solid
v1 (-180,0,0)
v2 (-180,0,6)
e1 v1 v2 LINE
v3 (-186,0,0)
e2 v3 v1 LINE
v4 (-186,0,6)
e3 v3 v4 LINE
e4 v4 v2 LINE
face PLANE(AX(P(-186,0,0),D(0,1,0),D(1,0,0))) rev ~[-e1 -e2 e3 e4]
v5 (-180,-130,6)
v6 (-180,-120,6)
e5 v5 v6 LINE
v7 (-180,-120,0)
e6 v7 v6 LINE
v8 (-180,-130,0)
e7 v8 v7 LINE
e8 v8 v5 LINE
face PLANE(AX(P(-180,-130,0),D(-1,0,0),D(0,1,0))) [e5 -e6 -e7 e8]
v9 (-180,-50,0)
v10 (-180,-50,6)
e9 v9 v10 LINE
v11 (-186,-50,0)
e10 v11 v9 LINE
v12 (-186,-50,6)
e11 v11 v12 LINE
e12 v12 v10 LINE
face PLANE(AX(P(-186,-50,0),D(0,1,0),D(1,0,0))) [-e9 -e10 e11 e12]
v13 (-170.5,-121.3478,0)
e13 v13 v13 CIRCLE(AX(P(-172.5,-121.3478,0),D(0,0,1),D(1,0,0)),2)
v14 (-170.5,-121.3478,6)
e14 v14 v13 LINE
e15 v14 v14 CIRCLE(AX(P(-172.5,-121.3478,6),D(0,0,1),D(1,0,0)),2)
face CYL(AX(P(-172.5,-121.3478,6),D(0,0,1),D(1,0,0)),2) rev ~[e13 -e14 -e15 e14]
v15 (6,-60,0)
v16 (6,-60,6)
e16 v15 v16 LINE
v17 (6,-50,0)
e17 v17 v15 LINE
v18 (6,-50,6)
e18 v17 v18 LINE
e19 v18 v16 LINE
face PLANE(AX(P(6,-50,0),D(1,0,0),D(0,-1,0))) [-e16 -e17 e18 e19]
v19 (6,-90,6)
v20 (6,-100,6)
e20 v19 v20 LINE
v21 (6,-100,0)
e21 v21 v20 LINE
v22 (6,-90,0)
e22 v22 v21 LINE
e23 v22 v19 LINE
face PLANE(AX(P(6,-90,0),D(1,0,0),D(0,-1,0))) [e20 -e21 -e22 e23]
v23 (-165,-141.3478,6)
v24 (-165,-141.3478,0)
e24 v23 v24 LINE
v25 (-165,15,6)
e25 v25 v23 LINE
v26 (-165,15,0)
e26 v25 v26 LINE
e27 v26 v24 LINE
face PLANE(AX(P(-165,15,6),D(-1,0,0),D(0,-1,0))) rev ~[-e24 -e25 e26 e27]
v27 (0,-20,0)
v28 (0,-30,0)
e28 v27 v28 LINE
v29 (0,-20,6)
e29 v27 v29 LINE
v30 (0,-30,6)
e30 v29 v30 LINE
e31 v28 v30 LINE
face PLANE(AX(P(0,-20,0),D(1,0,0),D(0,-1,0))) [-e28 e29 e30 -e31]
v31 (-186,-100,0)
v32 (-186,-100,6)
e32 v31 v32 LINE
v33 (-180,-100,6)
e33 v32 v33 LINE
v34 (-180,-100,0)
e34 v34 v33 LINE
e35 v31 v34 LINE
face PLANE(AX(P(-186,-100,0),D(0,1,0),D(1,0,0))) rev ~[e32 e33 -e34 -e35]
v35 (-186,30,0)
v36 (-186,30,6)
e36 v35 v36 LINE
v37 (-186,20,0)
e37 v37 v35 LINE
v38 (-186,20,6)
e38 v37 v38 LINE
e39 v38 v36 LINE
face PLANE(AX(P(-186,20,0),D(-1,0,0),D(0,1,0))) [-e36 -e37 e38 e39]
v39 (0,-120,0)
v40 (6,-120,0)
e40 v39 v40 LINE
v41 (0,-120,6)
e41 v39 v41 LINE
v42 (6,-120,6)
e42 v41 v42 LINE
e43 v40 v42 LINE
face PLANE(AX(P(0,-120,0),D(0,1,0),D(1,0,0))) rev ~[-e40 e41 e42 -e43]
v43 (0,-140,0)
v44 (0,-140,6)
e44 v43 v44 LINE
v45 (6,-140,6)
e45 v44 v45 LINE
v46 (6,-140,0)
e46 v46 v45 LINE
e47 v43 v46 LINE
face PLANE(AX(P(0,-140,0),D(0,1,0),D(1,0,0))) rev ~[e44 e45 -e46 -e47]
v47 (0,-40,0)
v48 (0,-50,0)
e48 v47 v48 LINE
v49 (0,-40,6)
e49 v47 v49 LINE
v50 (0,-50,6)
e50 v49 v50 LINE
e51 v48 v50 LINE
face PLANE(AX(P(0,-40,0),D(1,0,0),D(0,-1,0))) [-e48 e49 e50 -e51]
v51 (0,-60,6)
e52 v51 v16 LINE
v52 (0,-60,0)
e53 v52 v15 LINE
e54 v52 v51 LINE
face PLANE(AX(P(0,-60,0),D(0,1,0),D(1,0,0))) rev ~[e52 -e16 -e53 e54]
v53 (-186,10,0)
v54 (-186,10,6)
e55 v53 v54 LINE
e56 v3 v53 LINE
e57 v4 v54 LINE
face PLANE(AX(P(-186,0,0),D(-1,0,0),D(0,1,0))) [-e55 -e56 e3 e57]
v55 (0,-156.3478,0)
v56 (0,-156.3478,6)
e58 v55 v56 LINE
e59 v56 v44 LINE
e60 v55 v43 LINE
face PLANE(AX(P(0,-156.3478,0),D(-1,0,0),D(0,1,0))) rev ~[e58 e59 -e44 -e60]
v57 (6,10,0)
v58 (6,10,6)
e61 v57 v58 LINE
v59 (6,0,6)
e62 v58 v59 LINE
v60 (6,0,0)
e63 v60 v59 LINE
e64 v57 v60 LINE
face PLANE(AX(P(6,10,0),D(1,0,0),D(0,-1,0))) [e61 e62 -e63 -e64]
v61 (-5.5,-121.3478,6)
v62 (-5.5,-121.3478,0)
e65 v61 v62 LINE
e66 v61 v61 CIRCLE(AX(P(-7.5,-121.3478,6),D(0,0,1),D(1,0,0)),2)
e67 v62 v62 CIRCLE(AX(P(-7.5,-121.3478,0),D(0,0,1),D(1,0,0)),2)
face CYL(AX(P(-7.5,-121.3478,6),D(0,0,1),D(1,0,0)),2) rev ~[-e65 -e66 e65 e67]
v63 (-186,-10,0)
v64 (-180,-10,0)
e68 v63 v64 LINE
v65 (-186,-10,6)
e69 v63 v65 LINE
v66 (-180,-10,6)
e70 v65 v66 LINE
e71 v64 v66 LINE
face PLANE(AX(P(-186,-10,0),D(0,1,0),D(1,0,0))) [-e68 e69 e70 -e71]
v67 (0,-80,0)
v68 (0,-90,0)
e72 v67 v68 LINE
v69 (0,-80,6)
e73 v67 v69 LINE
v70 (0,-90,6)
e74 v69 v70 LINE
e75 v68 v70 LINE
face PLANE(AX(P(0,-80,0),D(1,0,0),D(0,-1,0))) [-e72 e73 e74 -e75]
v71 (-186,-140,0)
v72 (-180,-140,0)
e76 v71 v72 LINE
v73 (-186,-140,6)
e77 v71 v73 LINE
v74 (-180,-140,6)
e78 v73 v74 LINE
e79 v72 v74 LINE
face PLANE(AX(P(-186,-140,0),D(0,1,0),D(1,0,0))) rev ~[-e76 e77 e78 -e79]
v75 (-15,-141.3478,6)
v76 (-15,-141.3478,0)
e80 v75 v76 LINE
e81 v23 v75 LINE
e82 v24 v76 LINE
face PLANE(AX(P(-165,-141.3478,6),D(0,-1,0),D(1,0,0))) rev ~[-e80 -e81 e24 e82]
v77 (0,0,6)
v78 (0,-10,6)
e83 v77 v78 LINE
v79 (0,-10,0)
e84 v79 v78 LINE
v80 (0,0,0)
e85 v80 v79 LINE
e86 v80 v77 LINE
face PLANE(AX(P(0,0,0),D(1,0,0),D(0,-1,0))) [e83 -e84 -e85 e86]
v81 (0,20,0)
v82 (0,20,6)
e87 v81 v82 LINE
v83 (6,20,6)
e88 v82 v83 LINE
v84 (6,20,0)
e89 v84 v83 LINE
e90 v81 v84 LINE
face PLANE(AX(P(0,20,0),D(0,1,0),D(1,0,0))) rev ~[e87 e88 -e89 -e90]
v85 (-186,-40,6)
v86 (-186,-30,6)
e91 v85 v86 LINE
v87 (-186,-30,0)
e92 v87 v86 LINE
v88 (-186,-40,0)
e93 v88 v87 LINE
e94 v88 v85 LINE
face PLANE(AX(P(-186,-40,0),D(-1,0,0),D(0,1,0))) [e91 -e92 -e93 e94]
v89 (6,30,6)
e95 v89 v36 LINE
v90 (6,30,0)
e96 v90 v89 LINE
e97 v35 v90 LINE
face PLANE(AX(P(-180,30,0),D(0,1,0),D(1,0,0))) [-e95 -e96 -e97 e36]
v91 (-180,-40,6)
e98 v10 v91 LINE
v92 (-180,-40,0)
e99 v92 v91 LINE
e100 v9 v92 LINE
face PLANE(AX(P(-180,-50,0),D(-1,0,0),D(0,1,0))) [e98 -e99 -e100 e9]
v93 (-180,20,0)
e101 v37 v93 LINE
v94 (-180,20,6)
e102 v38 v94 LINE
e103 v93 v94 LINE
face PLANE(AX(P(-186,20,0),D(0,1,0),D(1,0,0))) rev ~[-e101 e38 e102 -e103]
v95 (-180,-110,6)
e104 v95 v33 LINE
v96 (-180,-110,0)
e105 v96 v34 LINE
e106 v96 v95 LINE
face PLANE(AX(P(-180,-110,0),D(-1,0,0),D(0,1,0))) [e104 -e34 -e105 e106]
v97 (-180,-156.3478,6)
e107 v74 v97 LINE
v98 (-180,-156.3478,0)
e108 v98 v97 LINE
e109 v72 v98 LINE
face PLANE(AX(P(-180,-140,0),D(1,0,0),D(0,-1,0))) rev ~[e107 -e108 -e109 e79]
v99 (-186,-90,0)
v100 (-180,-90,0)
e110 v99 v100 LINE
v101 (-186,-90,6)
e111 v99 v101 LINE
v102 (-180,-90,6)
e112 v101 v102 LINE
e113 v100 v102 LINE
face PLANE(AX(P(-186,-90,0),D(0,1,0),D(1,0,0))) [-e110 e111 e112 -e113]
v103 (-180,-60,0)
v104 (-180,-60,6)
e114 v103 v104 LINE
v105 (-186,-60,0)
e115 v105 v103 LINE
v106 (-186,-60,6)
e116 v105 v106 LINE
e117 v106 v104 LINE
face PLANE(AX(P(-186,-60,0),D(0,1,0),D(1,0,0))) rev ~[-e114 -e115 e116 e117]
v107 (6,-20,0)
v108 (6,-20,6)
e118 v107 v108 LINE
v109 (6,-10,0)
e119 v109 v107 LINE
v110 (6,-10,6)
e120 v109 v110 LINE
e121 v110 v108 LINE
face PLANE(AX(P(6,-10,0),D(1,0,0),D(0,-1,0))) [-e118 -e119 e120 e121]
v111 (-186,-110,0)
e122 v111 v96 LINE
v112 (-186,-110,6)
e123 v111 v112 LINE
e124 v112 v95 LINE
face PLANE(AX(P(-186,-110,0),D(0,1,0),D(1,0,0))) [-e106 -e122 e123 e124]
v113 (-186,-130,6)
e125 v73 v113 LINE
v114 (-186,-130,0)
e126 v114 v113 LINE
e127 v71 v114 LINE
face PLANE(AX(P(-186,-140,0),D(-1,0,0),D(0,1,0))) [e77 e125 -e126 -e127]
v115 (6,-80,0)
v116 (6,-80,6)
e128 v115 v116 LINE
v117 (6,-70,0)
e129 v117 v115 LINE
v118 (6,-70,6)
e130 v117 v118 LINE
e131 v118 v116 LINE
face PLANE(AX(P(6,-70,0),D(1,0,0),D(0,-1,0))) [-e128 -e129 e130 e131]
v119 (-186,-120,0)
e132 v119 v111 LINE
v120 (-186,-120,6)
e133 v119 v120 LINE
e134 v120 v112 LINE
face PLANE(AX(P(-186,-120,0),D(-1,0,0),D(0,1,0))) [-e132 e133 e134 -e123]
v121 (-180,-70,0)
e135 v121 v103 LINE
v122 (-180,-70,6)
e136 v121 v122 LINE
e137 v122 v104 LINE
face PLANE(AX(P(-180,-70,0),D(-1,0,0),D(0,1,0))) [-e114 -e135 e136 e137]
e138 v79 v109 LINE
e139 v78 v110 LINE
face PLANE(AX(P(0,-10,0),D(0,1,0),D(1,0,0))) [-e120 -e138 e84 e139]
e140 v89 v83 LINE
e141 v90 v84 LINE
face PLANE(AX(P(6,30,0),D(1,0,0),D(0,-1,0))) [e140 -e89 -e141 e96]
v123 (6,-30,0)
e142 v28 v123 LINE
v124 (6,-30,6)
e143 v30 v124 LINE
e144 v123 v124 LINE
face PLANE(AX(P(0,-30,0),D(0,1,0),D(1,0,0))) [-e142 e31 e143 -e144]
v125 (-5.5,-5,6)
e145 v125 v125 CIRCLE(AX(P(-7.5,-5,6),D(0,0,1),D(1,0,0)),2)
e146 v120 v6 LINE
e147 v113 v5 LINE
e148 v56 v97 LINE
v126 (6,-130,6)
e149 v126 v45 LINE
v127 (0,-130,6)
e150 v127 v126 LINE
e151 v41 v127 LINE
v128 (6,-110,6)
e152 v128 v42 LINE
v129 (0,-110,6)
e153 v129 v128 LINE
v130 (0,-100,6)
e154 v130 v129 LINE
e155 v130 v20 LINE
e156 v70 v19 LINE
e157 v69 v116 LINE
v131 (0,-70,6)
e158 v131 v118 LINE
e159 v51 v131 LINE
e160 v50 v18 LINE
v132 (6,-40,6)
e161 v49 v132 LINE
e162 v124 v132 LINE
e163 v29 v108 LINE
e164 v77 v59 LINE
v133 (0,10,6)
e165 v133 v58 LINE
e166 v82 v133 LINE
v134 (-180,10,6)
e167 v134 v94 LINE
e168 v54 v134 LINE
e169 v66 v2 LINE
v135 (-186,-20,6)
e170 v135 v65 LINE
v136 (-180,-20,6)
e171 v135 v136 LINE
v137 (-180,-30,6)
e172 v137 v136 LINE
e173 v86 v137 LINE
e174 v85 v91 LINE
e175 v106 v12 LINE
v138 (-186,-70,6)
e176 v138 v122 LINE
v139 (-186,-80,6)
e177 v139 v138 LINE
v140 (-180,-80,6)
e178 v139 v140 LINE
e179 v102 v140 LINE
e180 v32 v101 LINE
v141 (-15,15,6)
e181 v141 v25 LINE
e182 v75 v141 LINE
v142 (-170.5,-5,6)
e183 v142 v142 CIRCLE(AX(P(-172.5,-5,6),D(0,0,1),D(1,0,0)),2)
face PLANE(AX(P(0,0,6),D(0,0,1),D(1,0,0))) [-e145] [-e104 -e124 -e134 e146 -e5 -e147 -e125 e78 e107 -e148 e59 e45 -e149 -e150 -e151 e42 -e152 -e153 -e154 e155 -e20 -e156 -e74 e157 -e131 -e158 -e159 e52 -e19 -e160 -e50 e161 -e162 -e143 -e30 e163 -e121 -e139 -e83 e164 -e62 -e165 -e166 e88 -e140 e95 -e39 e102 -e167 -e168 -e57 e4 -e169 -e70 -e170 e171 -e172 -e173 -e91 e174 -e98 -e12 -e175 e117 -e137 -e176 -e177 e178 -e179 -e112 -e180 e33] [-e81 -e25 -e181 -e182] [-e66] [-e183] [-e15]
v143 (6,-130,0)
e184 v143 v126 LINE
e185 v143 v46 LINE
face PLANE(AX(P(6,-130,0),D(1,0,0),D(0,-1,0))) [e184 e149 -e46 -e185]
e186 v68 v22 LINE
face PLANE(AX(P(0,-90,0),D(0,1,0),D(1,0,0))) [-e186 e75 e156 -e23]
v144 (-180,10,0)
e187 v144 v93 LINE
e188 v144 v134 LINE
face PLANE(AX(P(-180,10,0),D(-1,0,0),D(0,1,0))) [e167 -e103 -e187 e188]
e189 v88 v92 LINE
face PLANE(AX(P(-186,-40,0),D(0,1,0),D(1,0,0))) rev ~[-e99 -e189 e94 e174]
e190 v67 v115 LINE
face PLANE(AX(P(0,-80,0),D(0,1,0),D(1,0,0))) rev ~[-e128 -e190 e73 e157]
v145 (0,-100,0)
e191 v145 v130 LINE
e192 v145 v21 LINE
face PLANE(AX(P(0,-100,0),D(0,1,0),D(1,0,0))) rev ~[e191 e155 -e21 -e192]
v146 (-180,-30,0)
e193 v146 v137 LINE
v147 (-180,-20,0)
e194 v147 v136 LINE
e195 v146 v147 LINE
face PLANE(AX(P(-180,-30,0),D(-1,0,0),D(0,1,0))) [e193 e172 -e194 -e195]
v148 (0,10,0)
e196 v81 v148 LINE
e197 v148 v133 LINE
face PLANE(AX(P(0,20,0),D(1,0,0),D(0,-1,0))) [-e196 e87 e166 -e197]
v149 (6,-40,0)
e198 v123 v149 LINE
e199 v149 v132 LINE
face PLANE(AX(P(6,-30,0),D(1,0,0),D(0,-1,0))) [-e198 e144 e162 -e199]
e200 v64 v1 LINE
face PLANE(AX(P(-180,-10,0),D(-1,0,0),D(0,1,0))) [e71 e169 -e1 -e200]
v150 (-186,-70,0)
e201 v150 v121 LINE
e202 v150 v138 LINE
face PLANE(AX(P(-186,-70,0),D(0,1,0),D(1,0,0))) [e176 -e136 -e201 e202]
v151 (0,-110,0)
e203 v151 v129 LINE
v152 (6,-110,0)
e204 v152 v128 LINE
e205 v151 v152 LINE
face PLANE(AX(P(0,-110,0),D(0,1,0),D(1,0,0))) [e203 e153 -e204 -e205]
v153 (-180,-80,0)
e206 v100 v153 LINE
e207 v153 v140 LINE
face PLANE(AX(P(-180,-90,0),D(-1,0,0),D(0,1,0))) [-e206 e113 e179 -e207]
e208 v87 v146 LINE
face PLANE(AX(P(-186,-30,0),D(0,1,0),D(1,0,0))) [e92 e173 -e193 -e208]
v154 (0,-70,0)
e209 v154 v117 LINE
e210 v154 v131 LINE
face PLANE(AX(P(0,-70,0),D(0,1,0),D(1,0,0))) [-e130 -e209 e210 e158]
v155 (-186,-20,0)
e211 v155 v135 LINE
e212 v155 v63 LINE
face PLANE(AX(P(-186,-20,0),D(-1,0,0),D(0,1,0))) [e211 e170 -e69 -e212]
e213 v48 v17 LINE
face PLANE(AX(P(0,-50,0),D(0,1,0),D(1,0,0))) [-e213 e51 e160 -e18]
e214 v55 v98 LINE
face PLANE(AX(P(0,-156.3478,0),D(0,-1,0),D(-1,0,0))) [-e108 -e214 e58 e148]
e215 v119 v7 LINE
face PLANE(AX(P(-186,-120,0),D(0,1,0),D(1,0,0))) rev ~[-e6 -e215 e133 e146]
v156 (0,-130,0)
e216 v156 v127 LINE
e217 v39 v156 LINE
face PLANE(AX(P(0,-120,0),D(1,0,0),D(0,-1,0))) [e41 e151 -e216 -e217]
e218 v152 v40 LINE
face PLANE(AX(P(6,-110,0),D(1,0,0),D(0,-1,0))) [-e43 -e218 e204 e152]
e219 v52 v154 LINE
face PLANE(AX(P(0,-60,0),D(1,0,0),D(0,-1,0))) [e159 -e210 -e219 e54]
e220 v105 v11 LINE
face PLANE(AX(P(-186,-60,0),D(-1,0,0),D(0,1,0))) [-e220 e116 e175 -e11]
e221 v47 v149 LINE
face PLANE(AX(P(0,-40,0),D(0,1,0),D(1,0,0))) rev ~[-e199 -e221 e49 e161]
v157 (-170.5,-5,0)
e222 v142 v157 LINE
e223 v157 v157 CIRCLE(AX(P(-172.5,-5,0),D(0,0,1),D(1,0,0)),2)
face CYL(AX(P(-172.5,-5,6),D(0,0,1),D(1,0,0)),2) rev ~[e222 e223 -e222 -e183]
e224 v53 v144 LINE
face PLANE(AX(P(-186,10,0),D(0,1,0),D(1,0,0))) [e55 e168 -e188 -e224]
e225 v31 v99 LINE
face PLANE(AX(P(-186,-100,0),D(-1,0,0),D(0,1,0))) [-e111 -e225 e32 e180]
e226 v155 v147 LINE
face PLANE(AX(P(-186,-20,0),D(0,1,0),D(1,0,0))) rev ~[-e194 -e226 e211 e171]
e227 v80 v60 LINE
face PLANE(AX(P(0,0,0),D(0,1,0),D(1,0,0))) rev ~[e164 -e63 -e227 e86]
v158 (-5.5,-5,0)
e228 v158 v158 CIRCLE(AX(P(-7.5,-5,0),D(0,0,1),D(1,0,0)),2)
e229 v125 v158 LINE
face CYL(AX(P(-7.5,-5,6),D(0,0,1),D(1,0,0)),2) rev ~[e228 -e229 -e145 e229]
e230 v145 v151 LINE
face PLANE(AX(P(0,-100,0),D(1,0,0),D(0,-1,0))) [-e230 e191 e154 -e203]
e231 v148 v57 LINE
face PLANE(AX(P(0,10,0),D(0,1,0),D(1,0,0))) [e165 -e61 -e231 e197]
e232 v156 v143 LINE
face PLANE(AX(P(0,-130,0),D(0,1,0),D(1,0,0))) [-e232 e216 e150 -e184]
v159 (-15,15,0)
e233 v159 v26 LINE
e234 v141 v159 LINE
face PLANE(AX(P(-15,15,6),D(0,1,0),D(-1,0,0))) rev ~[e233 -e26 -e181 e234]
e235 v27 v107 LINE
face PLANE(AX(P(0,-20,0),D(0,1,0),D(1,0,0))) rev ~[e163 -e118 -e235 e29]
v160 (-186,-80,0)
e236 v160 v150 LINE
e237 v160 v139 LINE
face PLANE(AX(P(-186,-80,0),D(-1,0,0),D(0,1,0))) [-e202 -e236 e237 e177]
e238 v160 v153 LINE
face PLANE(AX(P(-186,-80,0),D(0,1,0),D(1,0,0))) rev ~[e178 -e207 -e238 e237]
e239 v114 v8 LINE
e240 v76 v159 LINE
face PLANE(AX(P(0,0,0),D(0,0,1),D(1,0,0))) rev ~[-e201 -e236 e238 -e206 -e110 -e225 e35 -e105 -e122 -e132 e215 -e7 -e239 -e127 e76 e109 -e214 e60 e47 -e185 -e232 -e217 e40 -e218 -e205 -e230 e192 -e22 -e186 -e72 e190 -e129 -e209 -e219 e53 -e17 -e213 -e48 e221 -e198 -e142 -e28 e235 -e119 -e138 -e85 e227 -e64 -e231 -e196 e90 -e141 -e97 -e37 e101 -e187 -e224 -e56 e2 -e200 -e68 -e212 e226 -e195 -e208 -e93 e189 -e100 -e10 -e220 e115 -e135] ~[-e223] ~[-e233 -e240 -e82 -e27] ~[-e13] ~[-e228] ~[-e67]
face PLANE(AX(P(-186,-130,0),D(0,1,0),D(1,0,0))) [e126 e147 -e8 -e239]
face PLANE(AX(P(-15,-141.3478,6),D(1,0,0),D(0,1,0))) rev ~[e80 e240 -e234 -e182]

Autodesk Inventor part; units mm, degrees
ref_plane "YZ Plane" through (0, 0, 0) normal (1, 0, 0) x (0, 1, 0)
ref_plane "XZ Plane" through (0, 0, 0) normal (0, 1, 0) x (-1, 0, 0)
ref_plane "XY Plane" through (0, 0, 0) normal (0, 0, 1) x (1, 0, 0)
sketch "Эскиз1" plane through (0, 0, 0) normal (0, 0, 1) x (1, 0, 0)
  line L0 (0, 20) -> (0, 30) projected
  line L1 (0, 20) -> (6, 20) projected
  line L2 (6, 30) -> (6, 20) projected
  line L3 (0, 30) -> (6, 30) projected
  line L4 (0, 0) -> (0, 10) projected
  line L5 (0, 0) -> (6, 0) projected
  line L6 (6, 10) -> (6, 0) projected
  line L7 (0, 10) -> (6, 10) projected
  line L8 (0, -20) -> (0, -10) projected
  line L9 (0, -20) -> (6, -20) projected
  line L10 (6, -10) -> (6, -20) projected
  line L11 (0, -10) -> (6, -10) projected
  line L12 (0, -40) -> (0, -30) projected
  line L13 (0, -40) -> (6, -40) projected
  line L14 (6, -30) -> (6, -40) projected
  line L15 (0, -30) -> (6, -30) projected
  line L16 (0, -60) -> (0, -50) projected
  line L17 (0, -60) -> (6, -60) projected
  line L18 (6, -50) -> (6, -60) projected
  line L19 (0, -50) -> (6, -50) projected
  line L20 (0, -80) -> (0, -70) projected
  line L21 (0, -80) -> (6, -80) projected
  line L22 (6, -70) -> (6, -80) projected
  line L23 (0, -70) -> (6, -70) projected
  line L24 (0, -100) -> (0, -90) projected
  line L25 (0, -100) -> (6, -100) projected
  line L26 (6, -90) -> (6, -100) projected
  line L27 (0, -90) -> (6, -90) projected
  line L28 (0, -120) -> (0, -110) projected
  line L29 (0, -120) -> (6, -120) projected
  line L30 (6, -110) -> (6, -120) projected
  line L31 (0, -110) -> (6, -110) projected
  line L32 (0, -140) -> (0, -130) projected
  line L33 (0, -140) -> (6, -140) projected
  line L34 (6, -130) -> (6, -140) projected
  line L35 (0, -130) -> (6, -130) projected
  line L36 (0, -156.3478) -> (0, -140) projected
  line L37 (-180, -140) -> (-180, -156.3478) projected
  line L38 (-186, -140) -> (-186, -130) projected
  line L39 (-186, -140) -> (-180, -140) projected
  line L40 (-180, -130) -> (-180, -140) projected
  line L41 (-186, -130) -> (-180, -130) projected
  line L42 (-186, -120) -> (-186, -110) projected
  line L43 (-186, -120) -> (-180, -120) projected
  line L44 (-180, -110) -> (-180, -120) projected
  line L45 (-186, -110) -> (-180, -110) projected
  line L46 (-186, -100) -> (-186, -90) projected
  line L47 (-186, -100) -> (-180, -100) projected
  line L48 (-180, -90) -> (-180, -100) projected
  line L49 (-186, -90) -> (-180, -90) projected
  line L50 (-186, -80) -> (-186, -70) projected
  line L51 (-186, -80) -> (-180, -80) projected
  line L52 (-180, -70) -> (-180, -80) projected
  line L53 (-186, -70) -> (-180, -70) projected
  line L54 (-186, -60) -> (-186, -50) projected
  line L55 (-186, -60) -> (-180, -60) projected
  line L56 (-180, -50) -> (-180, -60) projected
  line L57 (-186, -50) -> (-180, -50) projected
  line L58 (-186, -40) -> (-186, -30) projected
  line L59 (-186, -40) -> (-180, -40) projected
  line L60 (-180, -30) -> (-180, -40) projected
  line L61 (-186, -30) -> (-180, -30) projected
  line L62 (-186, 20) -> (-186, 30) projected
  line L63 (-186, 20) -> (-180, 20) projected
  line L64 (-180, 30) -> (-180, 20) projected
  line L65 (-186, 30) -> (-180, 30) projected
  line L66 (-186, 0) -> (-186, 10) projected
  line L67 (-186, 0) -> (-180, 0) projected
  line L68 (-180, 10) -> (-180, 0) projected
  line L69 (-186, 10) -> (-180, 10) projected
  line L70 (-186, -20) -> (-186, -10) projected
  line L71 (-186, -20) -> (-180, -20) projected
  line L72 (-180, -10) -> (-180, -20) projected
  line L73 (-186, -10) -> (-180, -10) projected
  line L74 (0, -156.3478) -> (-180, -156.3478)
  line L75 (-180, -156.3478) -> (-180, 30)
  line L76 (-180, 30) -> (0, 30)
  line L77 (0, 30) -> (0, -156.3478)
extrude "Выдавливание1" add sketch "Эскиз1" along normal blind 6
sketch "Эскиз2" plane through (0, 0, 6) normal (0, 0, 1) x (1, 0, 0)
  line L0 (-15, 15) -> (-165, 15)
  line L1 (-165, 15) -> (-165, -141.3478)
  line L2 (-165, -141.3478) -> (-15, -141.3478)
  line L3 (-15, -141.3478) -> (-15, 15)
  line L4 (-186, 10) -> (-186, 0) projected
  line L5 (-186, 0) -> (-180, 0) projected
  line L6 (-180, 0) -> (-180, -10) projected
  line L7 (-180, -10) -> (-186, -10) projected
  line L8 (-186, -10) -> (-186, -20) projected
  line L9 (-186, -20) -> (-180, -20) projected
  line L10 (-180, -20) -> (-180, -30) projected
  line L11 (-180, -30) -> (-186, -30) projected
  line L12 (-186, -30) -> (-186, -40) projected
  line L13 (-186, -40) -> (-180, -40) projected
  line L14 (-180, -40) -> (-180, -50) projected
  line L15 (-180, -50) -> (-186, -50) projected
  line L16 (-186, -50) -> (-186, -60) projected
  line L17 (-186, -60) -> (-180, -60) projected
  line L18 (-180, -60) -> (-180, -70) projected
  line L19 (-180, -70) -> (-186, -70) projected
  line L20 (-186, -70) -> (-186, -80) projected
  line L21 (-186, -80) -> (-180, -80) projected
  line L22 (-180, -80) -> (-180, -90) projected
  line L23 (-180, -90) -> (-186, -90) projected
  line L24 (-186, -90) -> (-186, -100) projected
  line L25 (-186, -100) -> (-180, -100) projected
  line L26 (-180, -100) -> (-180, -110) projected
  line L27 (-180, -110) -> (-186, -110) projected
  line L28 (-186, -110) -> (-186, -120) projected
  line L29 (-186, -120) -> (-180, -120) projected
  line L30 (-180, -120) -> (-180, -130) projected
  line L31 (-180, -130) -> (-186, -130) projected
  line L32 (-186, -130) -> (-186, -140) projected
  line L33 (-186, -140) -> (-180, -140) projected
  line L34 (-180, -140) -> (-180, -156.3478) projected
  line L35 (-180, -156.3478) -> (0, -156.3478) projected
  line L36 (0, -156.3478) -> (0, -140) projected
  line L37 (0, -140) -> (6, -140) projected
  line L38 (6, -140) -> (6, -130) projected
  line L39 (6, -130) -> (0, -130) projected
  line L40 (0, -130) -> (0, -120) projected
  line L41 (0, -120) -> (6, -120) projected
  line L42 (6, -120) -> (6, -110) projected
  line L43 (6, -110) -> (0, -110) projected
  line L44 (0, -110) -> (0, -100) projected
  line L45 (0, -100) -> (6, -100) projected
  line L46 (6, -100) -> (6, -90) projected
  line L47 (6, -90) -> (0, -90) projected
  line L48 (0, -90) -> (0, -80) projected
  line L49 (0, -80) -> (6, -80) projected
  line L50 (6, -80) -> (6, -70) projected
  line L51 (6, -70) -> (0, -70) projected
  line L52 (0, -70) -> (0, -60) projected
  line L53 (0, -60) -> (6, -60) projected
  line L54 (6, -60) -> (6, -50) projected
  line L55 (6, -50) -> (0, -50) projected
  line L56 (0, -50) -> (0, -40) projected
  line L57 (0, -40) -> (6, -40) projected
  line L58 (6, -40) -> (6, -30) projected
  line L59 (6, -30) -> (0, -30) projected
  line L60 (0, -30) -> (0, -20) projected
  line L61 (0, -20) -> (6, -20) projected
  line L62 (6, -20) -> (6, -10) projected
  line L63 (6, -10) -> (0, -10) projected
  line L64 (0, -10) -> (0, 0) projected
  line L65 (0, 0) -> (6, 0) projected
  line L66 (6, 0) -> (6, 10) projected
  line L67 (6, 10) -> (0, 10) projected
  line L68 (0, 10) -> (0, 20) projected
  line L69 (0, 20) -> (6, 20) projected
  line L70 (6, 20) -> (6, 30) projected
  line L71 (6, 30) -> (-186, 30) projected
  line L72 (-186, 30) -> (-186, 20) projected
  line L73 (-186, 20) -> (-180, 20) projected
  line L74 (-180, 20) -> (-180, 10) projected
  line L75 (-180, 10) -> (-186, 10) projected
  dimension "d2" = 15
  dimension "d3" = 15
  dimension "d4" = 15
  dimension "d5" = 15
extrude "Выдавливание2" cut sketch "Эскиз2" against normal blind 6 contours L3 L2 L1 L0
sketch "Эскиз3" plane through (0, 0, 6) normal (0, 0, 1) x (1, 0, 0)
  circle A0 centre (-172.5, -121.3478) radius 2
  line L0 (-165, -141.3478) -> (-165, 15) projected
  line L1 (-165, 15) -> (-15, 15) projected
  line L2 (-15, 15) -> (-15, -141.3478) projected
  line L3 (-15, -141.3478) -> (-165, -141.3478) projected
  line L4 (-186, 10) -> (-186, 0) projected
  line L5 (-186, 0) -> (-180, 0) projected
  line L6 (-180, 0) -> (-180, -10) projected
  line L7 (-180, -10) -> (-186, -10) projected
  line L8 (-186, -10) -> (-186, -20) projected
  line L9 (-186, -20) -> (-180, -20) projected
  line L10 (-180, -20) -> (-180, -30) projected
  line L11 (-180, -30) -> (-186, -30) projected
  line L12 (-186, -30) -> (-186, -40) projected
  line L13 (-186, -40) -> (-180, -40) projected
  line L14 (-180, -40) -> (-180, -50) projected
  line L15 (-180, -50) -> (-186, -50) projected
  line L16 (-186, -50) -> (-186, -60) projected
  line L17 (-186, -60) -> (-180, -60) projected
  line L18 (-180, -60) -> (-180, -70) projected
  line L19 (-180, -70) -> (-186, -70) projected
  line L20 (-186, -70) -> (-186, -80) projected
  line L21 (-186, -80) -> (-180, -80) projected
  line L22 (-180, -80) -> (-180, -90) projected
  line L23 (-180, -90) -> (-186, -90) projected
  line L24 (-186, -90) -> (-186, -100) projected
  line L25 (-186, -100) -> (-180, -100) projected
  line L26 (-180, -100) -> (-180, -110) projected
  line L27 (-180, -110) -> (-186, -110) projected
  line L28 (-186, -110) -> (-186, -120) projected
  line L29 (-186, -120) -> (-180, -120) projected
  line L30 (-180, -120) -> (-180, -130) projected
  line L31 (-180, -130) -> (-186, -130) projected
  line L32 (-186, -130) -> (-186, -140) projected
  line L33 (-186, -140) -> (-180, -140) projected
  line L34 (-180, -140) -> (-180, -156.3478) projected
  line L35 (-180, -156.3478) -> (0, -156.3478) projected
  line L36 (0, -156.3478) -> (0, -140) projected
  line L37 (0, -140) -> (6, -140) projected
  line L38 (6, -140) -> (6, -130) projected
  line L39 (6, -130) -> (0, -130) projected
  line L40 (0, -130) -> (0, -120) projected
  line L41 (0, -120) -> (6, -120) projected
  line L42 (6, -120) -> (6, -110) projected
  line L43 (6, -110) -> (0, -110) projected
  line L44 (0, -110) -> (0, -100) projected
  line L45 (0, -100) -> (6, -100) projected
  line L46 (6, -100) -> (6, -90) projected
  line L47 (6, -90) -> (0, -90) projected
  line L48 (0, -90) -> (0, -80) projected
  line L49 (0, -80) -> (6, -80) projected
  line L50 (6, -80) -> (6, -70) projected
  line L51 (6, -70) -> (0, -70) projected
  line L52 (0, -70) -> (0, -60) projected
  line L53 (0, -60) -> (6, -60) projected
  line L54 (6, -60) -> (6, -50) projected
  line L55 (6, -50) -> (0, -50) projected
  line L56 (0, -50) -> (0, -40) projected
  line L57 (0, -40) -> (6, -40) projected
  line L58 (6, -40) -> (6, -30) projected
  line L59 (6, -30) -> (0, -30) projected
  line L60 (0, -30) -> (0, -20) projected
  line L61 (0, -20) -> (6, -20) projected
  line L62 (6, -20) -> (6, -10) projected
  line L63 (6, -10) -> (0, -10) projected
  line L64 (0, -10) -> (0, 0) projected
  line L65 (0, 0) -> (6, 0) projected
  line L66 (6, 0) -> (6, 10) projected
  line L67 (6, 10) -> (0, 10) projected
  line L68 (0, 10) -> (0, 20) projected
  line L69 (0, 20) -> (6, 20) projected
  line L70 (6, 20) -> (6, 30) projected
  line L71 (6, 30) -> (-186, 30) projected
  line L72 (-186, 30) -> (-186, 20) projected
  line L73 (-186, 20) -> (-180, 20) projected
  line L74 (-180, 20) -> (-180, 10) projected
  line L75 (-180, 10) -> (-186, 10) projected
  circle A1 centre (-172.5, -5) radius 2
  circle A2 centre (-7.5, -5) radius 2
  circle A3 centre (-7.5, -121.3478) radius 2
  dimension "d8" = 4
  dimension "d9" = 20
  dimension "d10" = 15
  dimension "d11" = 7.5
  dimension "d12" = 4
  dimension "d13" = 20
  dimension "d14" = 7.5
  dimension "d15" = 4
  dimension "d16" = 4
  dimension "d17" = 20
  dimension "d18" = 20
  dimension "d19" = 7.5
  dimension "d20" = 7.5
extrude "Выдавливание3" cut sketch "Эскиз3" against normal blind 10 contours A0 | A1 | A2 | A3
equation "\"d13\" = d9"
equation "\"d19\" = d11"
equation "\"d20\" = d19"
properties part number "верх"
